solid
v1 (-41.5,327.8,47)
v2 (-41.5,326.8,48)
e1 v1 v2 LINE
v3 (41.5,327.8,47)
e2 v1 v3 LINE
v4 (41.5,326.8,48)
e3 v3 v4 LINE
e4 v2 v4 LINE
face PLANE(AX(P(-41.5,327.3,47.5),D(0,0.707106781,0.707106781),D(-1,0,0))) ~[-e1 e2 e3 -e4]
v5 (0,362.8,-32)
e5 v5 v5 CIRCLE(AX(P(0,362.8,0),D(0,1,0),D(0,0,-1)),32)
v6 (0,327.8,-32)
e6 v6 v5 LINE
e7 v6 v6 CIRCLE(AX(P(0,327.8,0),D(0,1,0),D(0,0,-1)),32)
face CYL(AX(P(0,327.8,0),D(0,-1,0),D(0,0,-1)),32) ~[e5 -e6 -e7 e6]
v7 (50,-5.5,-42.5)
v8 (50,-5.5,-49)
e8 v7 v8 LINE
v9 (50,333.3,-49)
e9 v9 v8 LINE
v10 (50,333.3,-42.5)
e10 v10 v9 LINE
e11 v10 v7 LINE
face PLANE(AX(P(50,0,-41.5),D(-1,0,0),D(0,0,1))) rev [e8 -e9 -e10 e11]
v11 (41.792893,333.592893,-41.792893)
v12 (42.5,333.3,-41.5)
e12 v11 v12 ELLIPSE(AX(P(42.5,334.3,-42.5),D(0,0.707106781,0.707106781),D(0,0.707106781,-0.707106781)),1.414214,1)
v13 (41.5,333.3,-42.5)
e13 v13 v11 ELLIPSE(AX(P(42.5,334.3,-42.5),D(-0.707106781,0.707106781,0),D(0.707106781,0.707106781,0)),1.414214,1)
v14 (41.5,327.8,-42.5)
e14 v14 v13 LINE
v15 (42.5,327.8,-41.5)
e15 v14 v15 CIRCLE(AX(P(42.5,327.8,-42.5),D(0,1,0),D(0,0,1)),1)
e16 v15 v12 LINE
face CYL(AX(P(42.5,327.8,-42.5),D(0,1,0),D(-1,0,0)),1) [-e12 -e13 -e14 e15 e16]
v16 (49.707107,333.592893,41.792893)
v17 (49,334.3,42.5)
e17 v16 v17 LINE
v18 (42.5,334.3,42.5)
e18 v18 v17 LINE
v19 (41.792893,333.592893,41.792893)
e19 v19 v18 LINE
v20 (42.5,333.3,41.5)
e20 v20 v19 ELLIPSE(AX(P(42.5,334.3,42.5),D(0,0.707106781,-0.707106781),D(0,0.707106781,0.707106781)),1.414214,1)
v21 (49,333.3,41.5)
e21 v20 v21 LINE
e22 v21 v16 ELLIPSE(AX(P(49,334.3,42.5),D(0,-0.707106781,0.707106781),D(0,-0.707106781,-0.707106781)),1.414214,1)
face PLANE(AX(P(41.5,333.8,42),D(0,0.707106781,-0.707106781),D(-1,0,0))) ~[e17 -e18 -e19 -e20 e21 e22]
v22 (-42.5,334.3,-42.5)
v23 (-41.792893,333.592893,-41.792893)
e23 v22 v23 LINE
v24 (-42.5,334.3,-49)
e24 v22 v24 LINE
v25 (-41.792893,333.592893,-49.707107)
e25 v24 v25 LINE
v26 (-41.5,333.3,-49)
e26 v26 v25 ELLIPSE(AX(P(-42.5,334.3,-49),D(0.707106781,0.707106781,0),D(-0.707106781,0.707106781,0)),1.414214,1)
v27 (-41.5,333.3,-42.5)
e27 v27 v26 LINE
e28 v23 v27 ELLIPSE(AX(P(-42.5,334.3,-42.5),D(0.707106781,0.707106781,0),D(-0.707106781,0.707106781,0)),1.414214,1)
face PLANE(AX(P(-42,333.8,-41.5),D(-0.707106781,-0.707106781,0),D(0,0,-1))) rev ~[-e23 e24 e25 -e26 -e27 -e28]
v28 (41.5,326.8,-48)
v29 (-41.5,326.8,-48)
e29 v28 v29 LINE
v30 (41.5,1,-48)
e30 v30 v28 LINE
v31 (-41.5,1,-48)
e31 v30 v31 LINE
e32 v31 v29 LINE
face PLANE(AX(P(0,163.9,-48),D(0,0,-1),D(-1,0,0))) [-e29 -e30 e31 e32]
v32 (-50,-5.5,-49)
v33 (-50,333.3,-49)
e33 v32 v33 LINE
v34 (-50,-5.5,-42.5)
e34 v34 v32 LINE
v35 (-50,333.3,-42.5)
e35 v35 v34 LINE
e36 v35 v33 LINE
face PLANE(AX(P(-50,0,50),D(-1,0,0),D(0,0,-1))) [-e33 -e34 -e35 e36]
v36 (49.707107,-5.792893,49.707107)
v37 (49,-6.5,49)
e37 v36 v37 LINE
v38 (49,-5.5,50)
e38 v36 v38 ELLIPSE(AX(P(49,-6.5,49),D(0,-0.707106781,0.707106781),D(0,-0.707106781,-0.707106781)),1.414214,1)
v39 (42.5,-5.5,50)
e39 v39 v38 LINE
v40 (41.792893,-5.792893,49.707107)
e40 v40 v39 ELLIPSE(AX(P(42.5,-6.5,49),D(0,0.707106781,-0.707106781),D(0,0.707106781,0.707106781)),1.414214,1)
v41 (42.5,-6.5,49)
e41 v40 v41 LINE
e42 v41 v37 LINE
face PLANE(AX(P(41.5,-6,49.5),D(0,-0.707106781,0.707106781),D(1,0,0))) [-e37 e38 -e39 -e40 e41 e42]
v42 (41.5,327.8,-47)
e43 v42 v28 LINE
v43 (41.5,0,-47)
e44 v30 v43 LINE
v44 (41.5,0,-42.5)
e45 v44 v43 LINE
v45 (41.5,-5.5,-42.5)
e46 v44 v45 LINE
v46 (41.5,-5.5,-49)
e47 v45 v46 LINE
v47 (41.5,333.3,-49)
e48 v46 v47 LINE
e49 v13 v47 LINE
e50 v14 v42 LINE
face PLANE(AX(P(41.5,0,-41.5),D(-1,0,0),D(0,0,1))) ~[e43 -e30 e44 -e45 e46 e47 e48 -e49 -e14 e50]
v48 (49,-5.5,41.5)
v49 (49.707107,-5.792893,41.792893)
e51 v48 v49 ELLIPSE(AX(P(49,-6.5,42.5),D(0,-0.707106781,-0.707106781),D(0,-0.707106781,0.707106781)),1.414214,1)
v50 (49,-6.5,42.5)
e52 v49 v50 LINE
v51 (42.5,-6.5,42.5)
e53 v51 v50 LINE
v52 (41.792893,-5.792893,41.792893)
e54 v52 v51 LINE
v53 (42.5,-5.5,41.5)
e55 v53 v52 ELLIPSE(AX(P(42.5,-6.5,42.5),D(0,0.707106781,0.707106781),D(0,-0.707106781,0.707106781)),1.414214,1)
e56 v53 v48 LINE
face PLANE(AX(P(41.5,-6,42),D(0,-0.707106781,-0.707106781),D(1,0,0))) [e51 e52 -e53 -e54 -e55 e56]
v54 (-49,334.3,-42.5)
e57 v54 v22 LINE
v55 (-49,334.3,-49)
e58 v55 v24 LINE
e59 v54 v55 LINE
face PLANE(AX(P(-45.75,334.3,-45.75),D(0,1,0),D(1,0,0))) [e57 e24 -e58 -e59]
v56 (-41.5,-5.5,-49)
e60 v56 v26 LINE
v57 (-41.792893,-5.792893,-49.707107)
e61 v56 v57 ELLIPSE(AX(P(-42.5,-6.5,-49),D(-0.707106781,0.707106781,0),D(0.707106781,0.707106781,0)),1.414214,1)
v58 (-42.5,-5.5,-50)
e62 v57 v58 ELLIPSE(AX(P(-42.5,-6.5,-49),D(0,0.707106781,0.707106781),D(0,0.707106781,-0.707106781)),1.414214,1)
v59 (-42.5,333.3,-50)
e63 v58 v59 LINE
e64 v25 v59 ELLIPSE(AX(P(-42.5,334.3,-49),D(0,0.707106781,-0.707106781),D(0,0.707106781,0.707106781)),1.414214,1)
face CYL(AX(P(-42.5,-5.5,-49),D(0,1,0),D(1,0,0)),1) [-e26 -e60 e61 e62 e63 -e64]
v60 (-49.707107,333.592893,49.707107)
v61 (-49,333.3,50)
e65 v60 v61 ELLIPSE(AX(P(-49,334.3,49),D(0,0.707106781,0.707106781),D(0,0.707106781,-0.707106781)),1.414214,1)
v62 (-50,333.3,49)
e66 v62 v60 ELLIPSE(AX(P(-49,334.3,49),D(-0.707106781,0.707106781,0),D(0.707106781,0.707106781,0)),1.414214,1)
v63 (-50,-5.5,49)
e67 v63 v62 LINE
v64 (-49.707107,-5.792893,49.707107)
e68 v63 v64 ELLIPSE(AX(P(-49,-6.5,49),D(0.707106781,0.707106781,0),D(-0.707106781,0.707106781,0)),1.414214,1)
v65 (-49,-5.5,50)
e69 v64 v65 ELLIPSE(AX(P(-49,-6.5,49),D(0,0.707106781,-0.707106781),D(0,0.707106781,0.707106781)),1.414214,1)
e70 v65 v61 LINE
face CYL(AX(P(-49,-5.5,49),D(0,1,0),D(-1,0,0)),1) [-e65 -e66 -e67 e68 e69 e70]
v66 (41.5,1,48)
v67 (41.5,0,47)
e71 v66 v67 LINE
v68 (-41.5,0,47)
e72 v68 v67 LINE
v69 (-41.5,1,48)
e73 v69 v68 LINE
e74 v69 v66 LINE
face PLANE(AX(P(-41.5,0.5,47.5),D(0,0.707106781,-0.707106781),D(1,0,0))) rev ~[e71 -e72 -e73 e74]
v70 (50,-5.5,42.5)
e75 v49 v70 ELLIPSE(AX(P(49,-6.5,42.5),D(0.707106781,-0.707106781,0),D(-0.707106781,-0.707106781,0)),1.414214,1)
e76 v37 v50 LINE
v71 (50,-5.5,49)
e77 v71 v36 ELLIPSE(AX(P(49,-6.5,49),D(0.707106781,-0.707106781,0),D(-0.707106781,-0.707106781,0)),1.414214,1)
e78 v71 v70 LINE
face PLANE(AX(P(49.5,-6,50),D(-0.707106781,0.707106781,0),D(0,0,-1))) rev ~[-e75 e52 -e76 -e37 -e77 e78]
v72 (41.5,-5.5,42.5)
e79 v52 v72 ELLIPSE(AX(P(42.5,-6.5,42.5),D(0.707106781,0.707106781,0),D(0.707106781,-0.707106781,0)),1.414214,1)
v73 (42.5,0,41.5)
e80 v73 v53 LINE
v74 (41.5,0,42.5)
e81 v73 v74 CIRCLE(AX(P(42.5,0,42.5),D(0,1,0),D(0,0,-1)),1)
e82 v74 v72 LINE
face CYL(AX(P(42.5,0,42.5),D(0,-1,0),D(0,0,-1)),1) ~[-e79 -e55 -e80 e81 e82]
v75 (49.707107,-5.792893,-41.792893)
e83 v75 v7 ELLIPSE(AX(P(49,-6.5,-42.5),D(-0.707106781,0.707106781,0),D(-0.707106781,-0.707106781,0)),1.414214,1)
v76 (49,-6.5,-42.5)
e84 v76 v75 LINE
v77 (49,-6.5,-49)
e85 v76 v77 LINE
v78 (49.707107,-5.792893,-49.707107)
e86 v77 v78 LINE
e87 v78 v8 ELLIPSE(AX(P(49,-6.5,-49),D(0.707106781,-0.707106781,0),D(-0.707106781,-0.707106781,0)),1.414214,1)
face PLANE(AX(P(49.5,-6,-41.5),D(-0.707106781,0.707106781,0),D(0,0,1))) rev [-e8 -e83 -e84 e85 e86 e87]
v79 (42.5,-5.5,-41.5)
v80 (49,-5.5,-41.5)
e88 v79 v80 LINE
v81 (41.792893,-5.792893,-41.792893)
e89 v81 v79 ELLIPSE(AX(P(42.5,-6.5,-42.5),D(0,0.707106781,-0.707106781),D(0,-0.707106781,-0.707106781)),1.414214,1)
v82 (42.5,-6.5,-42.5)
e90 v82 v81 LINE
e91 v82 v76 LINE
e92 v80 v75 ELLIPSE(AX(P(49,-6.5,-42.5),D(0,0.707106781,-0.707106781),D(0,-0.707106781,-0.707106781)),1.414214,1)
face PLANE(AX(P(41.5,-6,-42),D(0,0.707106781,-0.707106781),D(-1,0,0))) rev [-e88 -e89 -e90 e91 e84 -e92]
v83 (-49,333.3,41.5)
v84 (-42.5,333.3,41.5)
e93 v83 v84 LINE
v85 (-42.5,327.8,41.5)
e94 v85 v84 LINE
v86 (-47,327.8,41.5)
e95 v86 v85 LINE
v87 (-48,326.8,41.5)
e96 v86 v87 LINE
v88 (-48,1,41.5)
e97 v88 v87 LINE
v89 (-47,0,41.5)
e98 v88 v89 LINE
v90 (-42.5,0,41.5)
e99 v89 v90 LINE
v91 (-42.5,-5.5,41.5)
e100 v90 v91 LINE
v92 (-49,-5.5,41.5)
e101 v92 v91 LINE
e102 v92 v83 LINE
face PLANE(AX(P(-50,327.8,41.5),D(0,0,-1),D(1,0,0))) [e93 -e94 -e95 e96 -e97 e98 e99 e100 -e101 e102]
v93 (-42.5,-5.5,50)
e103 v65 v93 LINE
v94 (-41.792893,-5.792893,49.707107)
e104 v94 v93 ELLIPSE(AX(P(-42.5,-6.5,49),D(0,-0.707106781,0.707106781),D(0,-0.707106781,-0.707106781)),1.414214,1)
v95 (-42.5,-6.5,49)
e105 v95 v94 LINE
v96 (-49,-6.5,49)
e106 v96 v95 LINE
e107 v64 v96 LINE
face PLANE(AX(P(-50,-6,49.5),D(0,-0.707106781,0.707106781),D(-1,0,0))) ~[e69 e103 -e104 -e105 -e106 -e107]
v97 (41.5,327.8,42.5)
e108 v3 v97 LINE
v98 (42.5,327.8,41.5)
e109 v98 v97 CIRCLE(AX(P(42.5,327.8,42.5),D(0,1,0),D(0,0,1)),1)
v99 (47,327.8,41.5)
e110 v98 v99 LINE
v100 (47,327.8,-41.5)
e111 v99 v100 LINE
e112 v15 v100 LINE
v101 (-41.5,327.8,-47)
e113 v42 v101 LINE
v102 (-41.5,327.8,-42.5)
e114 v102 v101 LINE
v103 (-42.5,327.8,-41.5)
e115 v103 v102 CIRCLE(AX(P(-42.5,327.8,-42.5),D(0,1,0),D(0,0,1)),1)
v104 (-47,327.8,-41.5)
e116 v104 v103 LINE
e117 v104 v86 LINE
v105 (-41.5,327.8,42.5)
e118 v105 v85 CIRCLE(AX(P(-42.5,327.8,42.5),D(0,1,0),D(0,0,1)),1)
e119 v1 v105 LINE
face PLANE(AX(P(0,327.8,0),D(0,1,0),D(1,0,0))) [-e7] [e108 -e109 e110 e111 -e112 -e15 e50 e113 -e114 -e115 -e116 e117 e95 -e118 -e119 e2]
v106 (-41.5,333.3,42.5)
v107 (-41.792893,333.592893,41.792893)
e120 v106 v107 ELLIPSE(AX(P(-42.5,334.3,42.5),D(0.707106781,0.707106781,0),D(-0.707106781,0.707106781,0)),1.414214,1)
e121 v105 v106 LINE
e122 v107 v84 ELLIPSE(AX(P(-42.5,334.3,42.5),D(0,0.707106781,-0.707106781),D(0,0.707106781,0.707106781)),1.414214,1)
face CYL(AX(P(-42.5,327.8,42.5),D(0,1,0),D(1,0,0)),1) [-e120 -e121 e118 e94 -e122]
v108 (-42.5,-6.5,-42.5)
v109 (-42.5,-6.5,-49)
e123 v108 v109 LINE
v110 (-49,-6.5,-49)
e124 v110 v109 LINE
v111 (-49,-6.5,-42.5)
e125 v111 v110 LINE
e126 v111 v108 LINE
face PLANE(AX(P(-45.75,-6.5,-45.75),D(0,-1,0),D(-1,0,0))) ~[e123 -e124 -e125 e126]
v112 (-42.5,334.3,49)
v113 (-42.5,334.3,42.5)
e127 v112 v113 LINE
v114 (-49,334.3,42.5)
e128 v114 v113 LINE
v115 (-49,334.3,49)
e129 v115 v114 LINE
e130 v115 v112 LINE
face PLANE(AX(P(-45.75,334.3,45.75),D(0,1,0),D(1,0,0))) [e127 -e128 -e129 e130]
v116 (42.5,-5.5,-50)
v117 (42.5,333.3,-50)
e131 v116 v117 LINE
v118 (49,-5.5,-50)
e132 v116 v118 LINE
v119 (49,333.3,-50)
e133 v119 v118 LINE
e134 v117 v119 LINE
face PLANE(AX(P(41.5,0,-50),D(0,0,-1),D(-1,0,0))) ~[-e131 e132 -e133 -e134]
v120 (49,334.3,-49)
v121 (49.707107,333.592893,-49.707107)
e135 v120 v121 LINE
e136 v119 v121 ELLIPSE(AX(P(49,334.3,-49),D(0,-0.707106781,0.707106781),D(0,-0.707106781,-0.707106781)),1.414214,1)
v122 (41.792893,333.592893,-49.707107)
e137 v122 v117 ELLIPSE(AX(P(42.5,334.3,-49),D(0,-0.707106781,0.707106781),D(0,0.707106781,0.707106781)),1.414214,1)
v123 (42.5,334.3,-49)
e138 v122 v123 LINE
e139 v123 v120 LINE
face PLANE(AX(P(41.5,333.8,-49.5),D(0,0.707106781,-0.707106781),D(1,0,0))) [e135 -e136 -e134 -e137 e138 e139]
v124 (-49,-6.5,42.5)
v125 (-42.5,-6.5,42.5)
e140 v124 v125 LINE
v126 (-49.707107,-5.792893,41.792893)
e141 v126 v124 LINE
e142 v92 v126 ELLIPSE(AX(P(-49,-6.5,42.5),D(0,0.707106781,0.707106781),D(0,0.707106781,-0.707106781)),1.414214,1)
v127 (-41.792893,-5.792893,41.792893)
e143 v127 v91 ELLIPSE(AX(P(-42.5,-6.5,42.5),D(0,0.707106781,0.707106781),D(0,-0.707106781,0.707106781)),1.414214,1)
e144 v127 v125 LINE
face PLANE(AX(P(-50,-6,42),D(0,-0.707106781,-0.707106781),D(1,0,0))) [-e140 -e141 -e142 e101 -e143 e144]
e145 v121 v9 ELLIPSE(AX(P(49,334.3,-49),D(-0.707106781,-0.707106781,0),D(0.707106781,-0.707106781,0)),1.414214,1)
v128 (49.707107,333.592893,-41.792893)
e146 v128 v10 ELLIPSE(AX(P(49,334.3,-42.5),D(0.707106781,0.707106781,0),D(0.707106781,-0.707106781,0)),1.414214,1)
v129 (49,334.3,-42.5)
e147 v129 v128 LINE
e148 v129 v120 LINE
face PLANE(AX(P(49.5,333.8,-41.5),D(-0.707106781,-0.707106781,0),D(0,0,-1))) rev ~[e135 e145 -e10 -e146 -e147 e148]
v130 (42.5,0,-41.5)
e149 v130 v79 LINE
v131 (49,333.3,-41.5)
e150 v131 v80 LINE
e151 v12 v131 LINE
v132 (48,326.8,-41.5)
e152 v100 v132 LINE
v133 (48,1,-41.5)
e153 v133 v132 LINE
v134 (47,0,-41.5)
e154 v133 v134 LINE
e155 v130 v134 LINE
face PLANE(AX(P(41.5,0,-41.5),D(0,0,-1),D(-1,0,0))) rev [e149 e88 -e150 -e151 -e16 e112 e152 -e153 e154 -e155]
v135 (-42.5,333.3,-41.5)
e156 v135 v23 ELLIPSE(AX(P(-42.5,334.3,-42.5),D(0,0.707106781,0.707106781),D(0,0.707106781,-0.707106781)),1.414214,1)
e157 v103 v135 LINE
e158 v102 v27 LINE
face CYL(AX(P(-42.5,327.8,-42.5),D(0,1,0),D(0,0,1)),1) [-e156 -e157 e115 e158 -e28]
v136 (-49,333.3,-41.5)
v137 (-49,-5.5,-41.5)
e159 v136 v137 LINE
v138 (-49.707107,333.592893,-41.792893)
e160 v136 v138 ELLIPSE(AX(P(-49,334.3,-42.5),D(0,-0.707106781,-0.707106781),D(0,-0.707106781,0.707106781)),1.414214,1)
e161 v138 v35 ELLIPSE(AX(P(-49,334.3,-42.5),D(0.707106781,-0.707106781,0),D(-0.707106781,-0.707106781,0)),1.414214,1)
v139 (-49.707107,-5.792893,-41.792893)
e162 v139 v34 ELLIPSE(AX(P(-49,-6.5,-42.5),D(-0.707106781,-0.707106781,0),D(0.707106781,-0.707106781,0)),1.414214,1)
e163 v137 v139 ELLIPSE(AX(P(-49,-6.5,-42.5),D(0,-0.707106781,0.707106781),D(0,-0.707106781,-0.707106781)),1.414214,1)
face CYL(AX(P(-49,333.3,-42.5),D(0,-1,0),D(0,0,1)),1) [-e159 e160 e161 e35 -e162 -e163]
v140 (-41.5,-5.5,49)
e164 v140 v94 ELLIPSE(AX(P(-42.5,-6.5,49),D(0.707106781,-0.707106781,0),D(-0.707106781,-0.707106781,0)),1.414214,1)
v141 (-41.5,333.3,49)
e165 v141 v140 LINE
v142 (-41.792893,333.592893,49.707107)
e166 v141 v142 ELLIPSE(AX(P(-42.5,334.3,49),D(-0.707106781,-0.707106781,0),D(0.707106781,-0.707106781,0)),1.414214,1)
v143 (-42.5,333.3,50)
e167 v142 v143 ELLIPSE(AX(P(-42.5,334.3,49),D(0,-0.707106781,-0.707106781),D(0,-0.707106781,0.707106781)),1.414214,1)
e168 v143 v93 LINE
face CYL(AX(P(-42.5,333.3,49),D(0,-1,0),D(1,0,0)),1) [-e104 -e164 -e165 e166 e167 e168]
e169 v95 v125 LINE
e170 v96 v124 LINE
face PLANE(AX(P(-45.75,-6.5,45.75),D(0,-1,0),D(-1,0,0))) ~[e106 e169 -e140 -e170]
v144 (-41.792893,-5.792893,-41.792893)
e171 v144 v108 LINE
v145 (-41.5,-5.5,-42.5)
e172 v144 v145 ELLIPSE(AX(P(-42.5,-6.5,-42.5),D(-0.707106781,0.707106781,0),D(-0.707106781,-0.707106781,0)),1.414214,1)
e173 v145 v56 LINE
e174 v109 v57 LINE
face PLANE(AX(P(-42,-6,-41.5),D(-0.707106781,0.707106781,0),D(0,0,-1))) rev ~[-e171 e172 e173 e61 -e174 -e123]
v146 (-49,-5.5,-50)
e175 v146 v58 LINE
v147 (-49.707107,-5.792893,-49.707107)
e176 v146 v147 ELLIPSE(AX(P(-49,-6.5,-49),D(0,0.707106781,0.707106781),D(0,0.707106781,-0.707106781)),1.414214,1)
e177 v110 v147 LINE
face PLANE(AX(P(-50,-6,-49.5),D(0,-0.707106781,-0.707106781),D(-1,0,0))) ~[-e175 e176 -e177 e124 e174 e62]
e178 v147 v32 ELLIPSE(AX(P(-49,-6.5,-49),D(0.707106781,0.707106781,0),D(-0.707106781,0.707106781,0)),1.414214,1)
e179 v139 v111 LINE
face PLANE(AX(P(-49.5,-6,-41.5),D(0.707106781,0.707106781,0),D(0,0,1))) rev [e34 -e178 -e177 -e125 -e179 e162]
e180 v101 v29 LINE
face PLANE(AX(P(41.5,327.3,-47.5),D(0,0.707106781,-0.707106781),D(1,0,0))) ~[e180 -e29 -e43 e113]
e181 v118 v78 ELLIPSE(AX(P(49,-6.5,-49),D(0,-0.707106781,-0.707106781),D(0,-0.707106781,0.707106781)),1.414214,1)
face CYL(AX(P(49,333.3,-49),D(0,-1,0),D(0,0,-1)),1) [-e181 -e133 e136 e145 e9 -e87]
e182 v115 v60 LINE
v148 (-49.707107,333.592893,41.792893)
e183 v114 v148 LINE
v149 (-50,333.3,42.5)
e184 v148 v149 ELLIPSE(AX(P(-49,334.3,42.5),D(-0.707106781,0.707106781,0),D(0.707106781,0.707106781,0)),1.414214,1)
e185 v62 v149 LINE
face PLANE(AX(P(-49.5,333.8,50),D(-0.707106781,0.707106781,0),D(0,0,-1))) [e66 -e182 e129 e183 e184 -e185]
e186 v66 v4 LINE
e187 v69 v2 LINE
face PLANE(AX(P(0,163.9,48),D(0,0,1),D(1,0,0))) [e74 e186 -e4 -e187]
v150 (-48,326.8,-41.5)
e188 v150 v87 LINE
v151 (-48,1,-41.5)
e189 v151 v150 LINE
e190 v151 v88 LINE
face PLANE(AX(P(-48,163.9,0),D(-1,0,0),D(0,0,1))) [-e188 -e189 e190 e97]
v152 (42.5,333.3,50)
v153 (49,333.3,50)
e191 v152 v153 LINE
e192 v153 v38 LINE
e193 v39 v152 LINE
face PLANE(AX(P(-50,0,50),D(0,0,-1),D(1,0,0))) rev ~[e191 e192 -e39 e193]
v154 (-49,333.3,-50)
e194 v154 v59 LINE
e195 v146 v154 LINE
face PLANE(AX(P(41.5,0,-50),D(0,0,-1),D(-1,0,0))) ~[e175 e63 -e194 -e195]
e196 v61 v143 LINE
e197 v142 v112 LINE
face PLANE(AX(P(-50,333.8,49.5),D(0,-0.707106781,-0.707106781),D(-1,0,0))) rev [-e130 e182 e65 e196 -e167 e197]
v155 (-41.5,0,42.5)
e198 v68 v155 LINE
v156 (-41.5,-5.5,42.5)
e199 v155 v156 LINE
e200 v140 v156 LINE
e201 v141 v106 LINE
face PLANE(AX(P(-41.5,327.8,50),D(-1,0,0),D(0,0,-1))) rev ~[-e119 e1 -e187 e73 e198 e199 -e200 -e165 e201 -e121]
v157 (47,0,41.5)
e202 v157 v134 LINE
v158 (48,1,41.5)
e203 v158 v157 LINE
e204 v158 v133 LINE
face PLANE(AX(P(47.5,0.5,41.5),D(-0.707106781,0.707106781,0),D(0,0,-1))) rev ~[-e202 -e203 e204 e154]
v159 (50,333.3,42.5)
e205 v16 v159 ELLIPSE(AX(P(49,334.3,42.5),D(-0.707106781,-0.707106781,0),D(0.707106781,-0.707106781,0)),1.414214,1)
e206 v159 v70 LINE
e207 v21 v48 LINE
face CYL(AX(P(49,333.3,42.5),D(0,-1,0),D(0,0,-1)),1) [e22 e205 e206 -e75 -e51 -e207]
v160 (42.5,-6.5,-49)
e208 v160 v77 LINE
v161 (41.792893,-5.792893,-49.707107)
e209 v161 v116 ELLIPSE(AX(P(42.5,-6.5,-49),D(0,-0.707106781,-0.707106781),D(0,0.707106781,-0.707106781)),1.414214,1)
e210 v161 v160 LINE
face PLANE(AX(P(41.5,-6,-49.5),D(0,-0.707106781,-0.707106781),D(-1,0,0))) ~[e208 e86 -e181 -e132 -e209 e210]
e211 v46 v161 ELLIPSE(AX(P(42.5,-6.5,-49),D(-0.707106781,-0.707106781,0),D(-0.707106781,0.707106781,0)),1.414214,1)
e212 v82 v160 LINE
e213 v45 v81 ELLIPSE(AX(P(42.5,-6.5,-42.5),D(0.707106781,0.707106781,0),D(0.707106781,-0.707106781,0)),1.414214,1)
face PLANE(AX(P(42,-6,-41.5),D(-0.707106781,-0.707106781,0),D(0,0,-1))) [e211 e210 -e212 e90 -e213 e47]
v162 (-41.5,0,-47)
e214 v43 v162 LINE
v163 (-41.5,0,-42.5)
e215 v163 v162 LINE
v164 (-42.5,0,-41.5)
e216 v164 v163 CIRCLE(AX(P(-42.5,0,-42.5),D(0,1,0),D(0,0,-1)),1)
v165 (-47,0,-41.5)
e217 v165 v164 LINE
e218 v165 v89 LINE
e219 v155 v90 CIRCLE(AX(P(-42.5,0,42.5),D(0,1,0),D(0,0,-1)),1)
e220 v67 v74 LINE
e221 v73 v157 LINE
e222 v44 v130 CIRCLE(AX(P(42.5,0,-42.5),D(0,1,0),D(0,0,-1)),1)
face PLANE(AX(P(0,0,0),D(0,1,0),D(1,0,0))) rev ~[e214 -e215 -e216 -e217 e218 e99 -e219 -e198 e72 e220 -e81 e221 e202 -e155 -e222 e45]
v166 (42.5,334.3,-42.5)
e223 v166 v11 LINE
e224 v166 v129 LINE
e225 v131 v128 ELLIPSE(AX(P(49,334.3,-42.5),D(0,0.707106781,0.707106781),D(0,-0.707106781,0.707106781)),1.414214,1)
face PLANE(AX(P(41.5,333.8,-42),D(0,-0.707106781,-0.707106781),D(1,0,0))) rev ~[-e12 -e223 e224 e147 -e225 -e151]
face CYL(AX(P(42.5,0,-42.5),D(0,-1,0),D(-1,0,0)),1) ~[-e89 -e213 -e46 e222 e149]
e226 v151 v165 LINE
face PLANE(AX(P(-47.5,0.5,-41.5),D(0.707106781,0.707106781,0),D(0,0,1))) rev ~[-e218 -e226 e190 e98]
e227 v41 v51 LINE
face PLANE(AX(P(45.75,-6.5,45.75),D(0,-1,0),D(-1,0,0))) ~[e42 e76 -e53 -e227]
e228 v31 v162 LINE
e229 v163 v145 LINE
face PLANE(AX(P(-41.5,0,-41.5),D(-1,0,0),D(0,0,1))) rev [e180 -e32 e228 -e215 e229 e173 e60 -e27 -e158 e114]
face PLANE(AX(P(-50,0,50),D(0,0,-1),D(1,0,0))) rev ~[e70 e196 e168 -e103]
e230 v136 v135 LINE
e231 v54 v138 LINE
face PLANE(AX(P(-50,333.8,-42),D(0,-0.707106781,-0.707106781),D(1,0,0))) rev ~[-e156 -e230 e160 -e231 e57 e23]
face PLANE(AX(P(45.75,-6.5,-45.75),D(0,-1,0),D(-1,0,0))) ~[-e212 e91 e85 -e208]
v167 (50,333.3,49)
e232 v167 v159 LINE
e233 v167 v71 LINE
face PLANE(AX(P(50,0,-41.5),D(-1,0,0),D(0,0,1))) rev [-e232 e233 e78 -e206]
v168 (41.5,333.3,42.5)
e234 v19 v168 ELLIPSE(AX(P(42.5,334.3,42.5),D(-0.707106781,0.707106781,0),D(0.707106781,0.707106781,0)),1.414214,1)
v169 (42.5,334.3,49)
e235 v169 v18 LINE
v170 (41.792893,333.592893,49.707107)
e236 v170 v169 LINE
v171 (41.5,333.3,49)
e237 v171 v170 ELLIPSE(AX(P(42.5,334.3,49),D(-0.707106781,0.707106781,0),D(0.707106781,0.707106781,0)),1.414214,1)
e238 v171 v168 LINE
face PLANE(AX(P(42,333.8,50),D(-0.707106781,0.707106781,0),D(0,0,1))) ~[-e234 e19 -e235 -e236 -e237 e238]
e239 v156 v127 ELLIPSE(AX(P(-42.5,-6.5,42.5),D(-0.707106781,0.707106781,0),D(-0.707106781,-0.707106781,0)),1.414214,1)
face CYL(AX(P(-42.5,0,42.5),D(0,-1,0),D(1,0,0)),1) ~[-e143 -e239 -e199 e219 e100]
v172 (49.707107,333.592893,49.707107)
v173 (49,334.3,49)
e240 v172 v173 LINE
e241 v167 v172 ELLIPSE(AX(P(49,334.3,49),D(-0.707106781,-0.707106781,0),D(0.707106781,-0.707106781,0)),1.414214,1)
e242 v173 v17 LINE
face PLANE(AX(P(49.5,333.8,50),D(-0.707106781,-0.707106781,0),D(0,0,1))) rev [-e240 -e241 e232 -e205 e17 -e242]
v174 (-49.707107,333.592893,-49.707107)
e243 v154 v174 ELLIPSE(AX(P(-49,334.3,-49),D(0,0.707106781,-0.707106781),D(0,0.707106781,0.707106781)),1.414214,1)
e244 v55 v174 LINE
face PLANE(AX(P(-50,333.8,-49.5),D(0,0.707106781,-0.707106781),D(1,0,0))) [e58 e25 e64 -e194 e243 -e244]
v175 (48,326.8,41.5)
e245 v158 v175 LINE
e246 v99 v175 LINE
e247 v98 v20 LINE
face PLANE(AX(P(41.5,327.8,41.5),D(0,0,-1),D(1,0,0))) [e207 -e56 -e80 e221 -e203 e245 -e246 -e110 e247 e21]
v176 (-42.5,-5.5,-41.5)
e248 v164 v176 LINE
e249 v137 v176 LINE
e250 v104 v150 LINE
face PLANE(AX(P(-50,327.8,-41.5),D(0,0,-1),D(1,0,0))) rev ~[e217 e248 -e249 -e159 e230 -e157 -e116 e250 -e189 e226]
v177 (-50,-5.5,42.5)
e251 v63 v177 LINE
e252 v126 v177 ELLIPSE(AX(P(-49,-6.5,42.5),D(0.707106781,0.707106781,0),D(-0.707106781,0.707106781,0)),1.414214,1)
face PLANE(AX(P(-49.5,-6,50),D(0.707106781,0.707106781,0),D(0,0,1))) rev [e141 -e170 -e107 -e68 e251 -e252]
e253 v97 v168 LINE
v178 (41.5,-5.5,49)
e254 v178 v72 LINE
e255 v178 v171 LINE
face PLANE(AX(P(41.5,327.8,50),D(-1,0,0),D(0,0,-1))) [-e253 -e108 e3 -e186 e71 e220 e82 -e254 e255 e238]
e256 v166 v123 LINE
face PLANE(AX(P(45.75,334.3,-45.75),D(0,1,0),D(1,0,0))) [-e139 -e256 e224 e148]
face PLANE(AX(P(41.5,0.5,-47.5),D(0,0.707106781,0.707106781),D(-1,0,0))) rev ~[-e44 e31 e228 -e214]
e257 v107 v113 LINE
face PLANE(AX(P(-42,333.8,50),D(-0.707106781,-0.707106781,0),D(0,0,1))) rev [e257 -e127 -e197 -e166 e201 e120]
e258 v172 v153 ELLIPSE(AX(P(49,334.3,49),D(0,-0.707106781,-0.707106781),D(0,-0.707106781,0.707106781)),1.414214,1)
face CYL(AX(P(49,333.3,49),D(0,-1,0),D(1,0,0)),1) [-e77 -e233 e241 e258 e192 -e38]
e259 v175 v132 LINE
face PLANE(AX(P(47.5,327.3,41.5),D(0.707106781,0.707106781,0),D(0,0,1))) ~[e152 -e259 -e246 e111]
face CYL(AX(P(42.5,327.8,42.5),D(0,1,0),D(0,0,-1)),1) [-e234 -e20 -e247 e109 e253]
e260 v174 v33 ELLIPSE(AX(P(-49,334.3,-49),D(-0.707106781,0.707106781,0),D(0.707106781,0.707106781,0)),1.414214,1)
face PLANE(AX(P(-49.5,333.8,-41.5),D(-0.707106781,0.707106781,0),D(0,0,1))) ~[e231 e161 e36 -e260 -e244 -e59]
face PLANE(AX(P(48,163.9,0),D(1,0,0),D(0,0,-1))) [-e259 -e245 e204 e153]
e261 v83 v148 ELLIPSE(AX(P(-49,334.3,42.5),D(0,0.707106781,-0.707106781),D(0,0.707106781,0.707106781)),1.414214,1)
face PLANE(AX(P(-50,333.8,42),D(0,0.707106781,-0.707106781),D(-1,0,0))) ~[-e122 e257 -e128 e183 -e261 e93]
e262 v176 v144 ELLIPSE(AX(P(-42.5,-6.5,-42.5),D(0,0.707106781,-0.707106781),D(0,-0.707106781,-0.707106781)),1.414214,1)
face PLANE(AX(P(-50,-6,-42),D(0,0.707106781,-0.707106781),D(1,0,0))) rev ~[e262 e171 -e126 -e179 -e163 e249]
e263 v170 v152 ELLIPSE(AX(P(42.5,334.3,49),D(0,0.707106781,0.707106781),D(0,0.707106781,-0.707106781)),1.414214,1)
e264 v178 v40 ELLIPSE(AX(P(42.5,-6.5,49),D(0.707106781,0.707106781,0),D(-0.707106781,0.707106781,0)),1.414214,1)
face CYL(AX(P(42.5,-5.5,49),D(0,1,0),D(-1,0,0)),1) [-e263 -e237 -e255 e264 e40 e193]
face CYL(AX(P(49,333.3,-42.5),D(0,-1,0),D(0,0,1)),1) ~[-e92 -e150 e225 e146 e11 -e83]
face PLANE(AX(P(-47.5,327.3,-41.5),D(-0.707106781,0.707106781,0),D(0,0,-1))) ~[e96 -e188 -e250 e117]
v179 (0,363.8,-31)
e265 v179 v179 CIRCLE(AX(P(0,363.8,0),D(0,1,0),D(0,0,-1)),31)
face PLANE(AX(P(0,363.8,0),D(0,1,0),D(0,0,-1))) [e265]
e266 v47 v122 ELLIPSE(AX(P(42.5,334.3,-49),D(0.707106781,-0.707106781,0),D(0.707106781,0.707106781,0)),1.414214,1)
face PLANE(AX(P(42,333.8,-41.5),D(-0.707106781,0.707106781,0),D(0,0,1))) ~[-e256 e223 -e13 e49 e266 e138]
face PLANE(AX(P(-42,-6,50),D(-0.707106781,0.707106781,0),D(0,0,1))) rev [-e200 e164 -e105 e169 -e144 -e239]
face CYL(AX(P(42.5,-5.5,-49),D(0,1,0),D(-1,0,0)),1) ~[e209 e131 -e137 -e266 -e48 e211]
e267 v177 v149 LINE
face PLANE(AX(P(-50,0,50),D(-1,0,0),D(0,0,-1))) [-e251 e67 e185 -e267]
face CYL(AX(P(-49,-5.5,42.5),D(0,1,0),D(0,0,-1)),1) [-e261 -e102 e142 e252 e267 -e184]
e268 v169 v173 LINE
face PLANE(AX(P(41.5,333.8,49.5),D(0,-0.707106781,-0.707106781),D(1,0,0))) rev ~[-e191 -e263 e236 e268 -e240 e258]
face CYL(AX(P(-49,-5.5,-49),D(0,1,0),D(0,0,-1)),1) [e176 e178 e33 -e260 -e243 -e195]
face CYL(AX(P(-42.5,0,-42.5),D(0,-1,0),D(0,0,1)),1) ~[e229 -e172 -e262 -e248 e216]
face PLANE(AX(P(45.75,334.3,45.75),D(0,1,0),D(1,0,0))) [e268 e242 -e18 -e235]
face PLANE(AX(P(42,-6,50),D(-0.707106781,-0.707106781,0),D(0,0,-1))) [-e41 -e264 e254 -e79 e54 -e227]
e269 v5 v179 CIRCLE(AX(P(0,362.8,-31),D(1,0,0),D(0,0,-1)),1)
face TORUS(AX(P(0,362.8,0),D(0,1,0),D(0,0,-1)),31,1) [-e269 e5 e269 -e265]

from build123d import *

# Parameters (mm, degrees)
SKETCH1_W                = 100
SKETCH1_H                = 100
BOSS_EXTRUDE1_DEPTH      = 327.8
SKETCH2_W                = 8.5
SKETCH2_H                = 8.5
BOSS_EXTRUDE2_DEPTH      = 6.5
CHAMFER1_SIZE            = 1
SKETCH3_R                = 32
BOSS_EXTRUDE3_DEPTH      = 36
CHAMFER1_OF_MIRROR1_SIZE = 1
FILLET1_R                = 1
SKETCH6_W                = 83
SKETCH6_H                = 327.8
CUT_EXTRUDE1_DEPTH       = 2
CIRPATTERN1_COUNT        = 4
FILLET2_R                = 1
FILLET3_R                = 1
CHAMFER2_SIZE            = 1


with BuildPart() as part:
    # Sketch1 → Boss-Extrude1 (new body)
    with BuildSketch(Plane(origin=(0, 0, 0), x_dir=(1, 0, 0), z_dir=(0, 1, 0))):
        Rectangle(SKETCH1_W, SKETCH1_H)
    extrude(amount=BOSS_EXTRUDE1_DEPTH)

    # Sketch2 → Boss-Extrude2 (add)
    with BuildSketch(Plane(origin=(0, 327.8, 0), x_dir=(1, 0, 0), z_dir=(0, 1, 0))):
        with Locations((45.75, 45.75)):
            Rectangle(SKETCH2_W, SKETCH2_H)
        with Locations((-45.75, 45.75)):
            Rectangle(SKETCH2_W, SKETCH2_H)
        with Locations((45.75, -45.75)):
            Rectangle(SKETCH2_W, SKETCH2_H)
        with Locations((-45.75, -45.75)):
            Rectangle(SKETCH2_W, SKETCH2_H)
    boss_extrude2 = extrude(amount=BOSS_EXTRUDE2_DEPTH)

    # Chamfer1
    chamfer1_edges = [part.edges().sort_by_distance(p)[0] for p in [
        (45.75, 334.3, -41.5),
        (41.5, 334.3, -45.75),
        (45.75, 334.3, -50),
        (50, 334.3, -45.75),
        (41.5, 334.3, 45.75),
        (45.75, 334.3, 41.5),
        (50, 334.3, 45.75),
        (45.75, 334.3, 50),
        (-50, 334.3, 45.75),
        (-45.75, 334.3, 41.5),
        (-41.5, 334.3, 45.75),
        (-45.75, 334.3, 50),
        (-45.75, 334.3, -50),
        (-41.5, 334.3, -45.75),
        (-45.75, 334.3, -41.5),
        (-50, 334.3, -45.75),
    ]]
    chamfer(chamfer1_edges, length=CHAMFER1_SIZE)

    # Sketch3 → Boss-Extrude3 (add)
    with BuildSketch(Plane(origin=(0, 327.8, 0), x_dir=(1, 0, 0), z_dir=(0, 1, 0))):
        with Locations(Location((0, 0, 0), (0, 0, 90))):
            Circle(SKETCH3_R)
    extrude(amount=BOSS_EXTRUDE3_DEPTH)

    # Mirror1: Boss-Extrude2 across plane
    add(boss_extrude2.mirror(Plane.ZX.offset(163.9)))

    # Chamfer1 of Mirror1
    chamfer1_of_mirror1_edges = [part.edges().sort_by_distance(p)[0] for p in [
        (45.75, -6.5, -41.5),
        (41.5, -6.5, -45.75),
        (45.75, -6.5, -50),
        (50, -6.5, -45.75),
        (41.5, -6.5, 45.75),
        (45.75, -6.5, 41.5),
        (50, -6.5, 45.75),
        (45.75, -6.5, 50),
        (-50, -6.5, 45.75),
        (-45.75, -6.5, 41.5),
        (-41.5, -6.5, 45.75),
        (-45.75, -6.5, 50),
        (-45.75, -6.5, -50),
        (-41.5, -6.5, -45.75),
        (-45.75, -6.5, -41.5),
        (-50, -6.5, -45.75),
    ]]
    chamfer(chamfer1_of_mirror1_edges, length=CHAMFER1_OF_MIRROR1_SIZE)

    # Fillet1
    fillet1_edges = [part.edges().sort_by_distance(p)[0] for p in [
        (-50, 163.9, -50),
        (50, 163.9, -50),
        (50, 163.9, 50),
        (-50, 163.9, 50),
    ]]
    fillet(fillet1_edges, radius=FILLET1_R)

    # Sketch6 → Cut-Extrude1 (cut)
    with BuildSketch(Plane(origin=(0, 0, -50), x_dir=(-1, 0, 0), z_dir=(0, 0, -1))):
        with Locations((0, 163.9)):
            Rectangle(SKETCH6_W, SKETCH6_H)
    cut_extrude1 = extrude(amount=-CUT_EXTRUDE1_DEPTH, mode=Mode.SUBTRACT)

    # CirPattern1: Cut-Extrude1 ×4 about axis
    cirpattern1_axis = Axis((0, 0, 0), (0, 1, 0))
    for i in range(1, CIRPATTERN1_COUNT):
        add(cut_extrude1.rotate(cirpattern1_axis, i * 360 / CIRPATTERN1_COUNT), mode=Mode.SUBTRACT)

    # Fillet2
    fillet2_edges = [part.edges().sort_by_distance(p)[0] for p in [
        (0, 363.8, 32),
    ]]
    fillet(fillet2_edges, radius=FILLET2_R)

    # Fillet3
    fillet3_edges = [part.edges().sort_by_distance(p)[0] for p in [
        (41.5, -2.75, -41.5),
        (41.5, -2.75, 41.5),
        (-41.5, -2.75, 41.5),
        (-41.5, -2.75, -41.5),
        (50, 163.9, -41.5),
        (41.5, 330.55, -41.5),
        (41.5, 163.9, -50),
        (-41.5, 163.9, -50),
        (50, 163.9, 41.5),
        (41.5, 163.9, 50),
        (41.5, 330.55, 41.5),
        (-41.5, 163.9, 50),
        (-50, 163.9, 41.5),
        (-50, 163.9, -41.5),
        (-41.5, 330.55, 41.5),
        (-41.5, 330.55, -41.5),
    ]]
    fillet(fillet3_edges, radius=FILLET3_R)

    # Chamfer2
    chamfer2_edges = [part.edges().sort_by_distance(p)[0] for p in [
        (48, 0, 0),
        (0, 0, 48),
        (0, 0, -48),
        (-48, 0, 0),
        (48, 327.8, 0),
        (0, 327.8, -48),
        (0, 327.8, 48),
        (-48, 327.8, 0),
    ]]
    chamfer(chamfer2_edges, length=CHAMFER2_SIZE)


solid = part.part
